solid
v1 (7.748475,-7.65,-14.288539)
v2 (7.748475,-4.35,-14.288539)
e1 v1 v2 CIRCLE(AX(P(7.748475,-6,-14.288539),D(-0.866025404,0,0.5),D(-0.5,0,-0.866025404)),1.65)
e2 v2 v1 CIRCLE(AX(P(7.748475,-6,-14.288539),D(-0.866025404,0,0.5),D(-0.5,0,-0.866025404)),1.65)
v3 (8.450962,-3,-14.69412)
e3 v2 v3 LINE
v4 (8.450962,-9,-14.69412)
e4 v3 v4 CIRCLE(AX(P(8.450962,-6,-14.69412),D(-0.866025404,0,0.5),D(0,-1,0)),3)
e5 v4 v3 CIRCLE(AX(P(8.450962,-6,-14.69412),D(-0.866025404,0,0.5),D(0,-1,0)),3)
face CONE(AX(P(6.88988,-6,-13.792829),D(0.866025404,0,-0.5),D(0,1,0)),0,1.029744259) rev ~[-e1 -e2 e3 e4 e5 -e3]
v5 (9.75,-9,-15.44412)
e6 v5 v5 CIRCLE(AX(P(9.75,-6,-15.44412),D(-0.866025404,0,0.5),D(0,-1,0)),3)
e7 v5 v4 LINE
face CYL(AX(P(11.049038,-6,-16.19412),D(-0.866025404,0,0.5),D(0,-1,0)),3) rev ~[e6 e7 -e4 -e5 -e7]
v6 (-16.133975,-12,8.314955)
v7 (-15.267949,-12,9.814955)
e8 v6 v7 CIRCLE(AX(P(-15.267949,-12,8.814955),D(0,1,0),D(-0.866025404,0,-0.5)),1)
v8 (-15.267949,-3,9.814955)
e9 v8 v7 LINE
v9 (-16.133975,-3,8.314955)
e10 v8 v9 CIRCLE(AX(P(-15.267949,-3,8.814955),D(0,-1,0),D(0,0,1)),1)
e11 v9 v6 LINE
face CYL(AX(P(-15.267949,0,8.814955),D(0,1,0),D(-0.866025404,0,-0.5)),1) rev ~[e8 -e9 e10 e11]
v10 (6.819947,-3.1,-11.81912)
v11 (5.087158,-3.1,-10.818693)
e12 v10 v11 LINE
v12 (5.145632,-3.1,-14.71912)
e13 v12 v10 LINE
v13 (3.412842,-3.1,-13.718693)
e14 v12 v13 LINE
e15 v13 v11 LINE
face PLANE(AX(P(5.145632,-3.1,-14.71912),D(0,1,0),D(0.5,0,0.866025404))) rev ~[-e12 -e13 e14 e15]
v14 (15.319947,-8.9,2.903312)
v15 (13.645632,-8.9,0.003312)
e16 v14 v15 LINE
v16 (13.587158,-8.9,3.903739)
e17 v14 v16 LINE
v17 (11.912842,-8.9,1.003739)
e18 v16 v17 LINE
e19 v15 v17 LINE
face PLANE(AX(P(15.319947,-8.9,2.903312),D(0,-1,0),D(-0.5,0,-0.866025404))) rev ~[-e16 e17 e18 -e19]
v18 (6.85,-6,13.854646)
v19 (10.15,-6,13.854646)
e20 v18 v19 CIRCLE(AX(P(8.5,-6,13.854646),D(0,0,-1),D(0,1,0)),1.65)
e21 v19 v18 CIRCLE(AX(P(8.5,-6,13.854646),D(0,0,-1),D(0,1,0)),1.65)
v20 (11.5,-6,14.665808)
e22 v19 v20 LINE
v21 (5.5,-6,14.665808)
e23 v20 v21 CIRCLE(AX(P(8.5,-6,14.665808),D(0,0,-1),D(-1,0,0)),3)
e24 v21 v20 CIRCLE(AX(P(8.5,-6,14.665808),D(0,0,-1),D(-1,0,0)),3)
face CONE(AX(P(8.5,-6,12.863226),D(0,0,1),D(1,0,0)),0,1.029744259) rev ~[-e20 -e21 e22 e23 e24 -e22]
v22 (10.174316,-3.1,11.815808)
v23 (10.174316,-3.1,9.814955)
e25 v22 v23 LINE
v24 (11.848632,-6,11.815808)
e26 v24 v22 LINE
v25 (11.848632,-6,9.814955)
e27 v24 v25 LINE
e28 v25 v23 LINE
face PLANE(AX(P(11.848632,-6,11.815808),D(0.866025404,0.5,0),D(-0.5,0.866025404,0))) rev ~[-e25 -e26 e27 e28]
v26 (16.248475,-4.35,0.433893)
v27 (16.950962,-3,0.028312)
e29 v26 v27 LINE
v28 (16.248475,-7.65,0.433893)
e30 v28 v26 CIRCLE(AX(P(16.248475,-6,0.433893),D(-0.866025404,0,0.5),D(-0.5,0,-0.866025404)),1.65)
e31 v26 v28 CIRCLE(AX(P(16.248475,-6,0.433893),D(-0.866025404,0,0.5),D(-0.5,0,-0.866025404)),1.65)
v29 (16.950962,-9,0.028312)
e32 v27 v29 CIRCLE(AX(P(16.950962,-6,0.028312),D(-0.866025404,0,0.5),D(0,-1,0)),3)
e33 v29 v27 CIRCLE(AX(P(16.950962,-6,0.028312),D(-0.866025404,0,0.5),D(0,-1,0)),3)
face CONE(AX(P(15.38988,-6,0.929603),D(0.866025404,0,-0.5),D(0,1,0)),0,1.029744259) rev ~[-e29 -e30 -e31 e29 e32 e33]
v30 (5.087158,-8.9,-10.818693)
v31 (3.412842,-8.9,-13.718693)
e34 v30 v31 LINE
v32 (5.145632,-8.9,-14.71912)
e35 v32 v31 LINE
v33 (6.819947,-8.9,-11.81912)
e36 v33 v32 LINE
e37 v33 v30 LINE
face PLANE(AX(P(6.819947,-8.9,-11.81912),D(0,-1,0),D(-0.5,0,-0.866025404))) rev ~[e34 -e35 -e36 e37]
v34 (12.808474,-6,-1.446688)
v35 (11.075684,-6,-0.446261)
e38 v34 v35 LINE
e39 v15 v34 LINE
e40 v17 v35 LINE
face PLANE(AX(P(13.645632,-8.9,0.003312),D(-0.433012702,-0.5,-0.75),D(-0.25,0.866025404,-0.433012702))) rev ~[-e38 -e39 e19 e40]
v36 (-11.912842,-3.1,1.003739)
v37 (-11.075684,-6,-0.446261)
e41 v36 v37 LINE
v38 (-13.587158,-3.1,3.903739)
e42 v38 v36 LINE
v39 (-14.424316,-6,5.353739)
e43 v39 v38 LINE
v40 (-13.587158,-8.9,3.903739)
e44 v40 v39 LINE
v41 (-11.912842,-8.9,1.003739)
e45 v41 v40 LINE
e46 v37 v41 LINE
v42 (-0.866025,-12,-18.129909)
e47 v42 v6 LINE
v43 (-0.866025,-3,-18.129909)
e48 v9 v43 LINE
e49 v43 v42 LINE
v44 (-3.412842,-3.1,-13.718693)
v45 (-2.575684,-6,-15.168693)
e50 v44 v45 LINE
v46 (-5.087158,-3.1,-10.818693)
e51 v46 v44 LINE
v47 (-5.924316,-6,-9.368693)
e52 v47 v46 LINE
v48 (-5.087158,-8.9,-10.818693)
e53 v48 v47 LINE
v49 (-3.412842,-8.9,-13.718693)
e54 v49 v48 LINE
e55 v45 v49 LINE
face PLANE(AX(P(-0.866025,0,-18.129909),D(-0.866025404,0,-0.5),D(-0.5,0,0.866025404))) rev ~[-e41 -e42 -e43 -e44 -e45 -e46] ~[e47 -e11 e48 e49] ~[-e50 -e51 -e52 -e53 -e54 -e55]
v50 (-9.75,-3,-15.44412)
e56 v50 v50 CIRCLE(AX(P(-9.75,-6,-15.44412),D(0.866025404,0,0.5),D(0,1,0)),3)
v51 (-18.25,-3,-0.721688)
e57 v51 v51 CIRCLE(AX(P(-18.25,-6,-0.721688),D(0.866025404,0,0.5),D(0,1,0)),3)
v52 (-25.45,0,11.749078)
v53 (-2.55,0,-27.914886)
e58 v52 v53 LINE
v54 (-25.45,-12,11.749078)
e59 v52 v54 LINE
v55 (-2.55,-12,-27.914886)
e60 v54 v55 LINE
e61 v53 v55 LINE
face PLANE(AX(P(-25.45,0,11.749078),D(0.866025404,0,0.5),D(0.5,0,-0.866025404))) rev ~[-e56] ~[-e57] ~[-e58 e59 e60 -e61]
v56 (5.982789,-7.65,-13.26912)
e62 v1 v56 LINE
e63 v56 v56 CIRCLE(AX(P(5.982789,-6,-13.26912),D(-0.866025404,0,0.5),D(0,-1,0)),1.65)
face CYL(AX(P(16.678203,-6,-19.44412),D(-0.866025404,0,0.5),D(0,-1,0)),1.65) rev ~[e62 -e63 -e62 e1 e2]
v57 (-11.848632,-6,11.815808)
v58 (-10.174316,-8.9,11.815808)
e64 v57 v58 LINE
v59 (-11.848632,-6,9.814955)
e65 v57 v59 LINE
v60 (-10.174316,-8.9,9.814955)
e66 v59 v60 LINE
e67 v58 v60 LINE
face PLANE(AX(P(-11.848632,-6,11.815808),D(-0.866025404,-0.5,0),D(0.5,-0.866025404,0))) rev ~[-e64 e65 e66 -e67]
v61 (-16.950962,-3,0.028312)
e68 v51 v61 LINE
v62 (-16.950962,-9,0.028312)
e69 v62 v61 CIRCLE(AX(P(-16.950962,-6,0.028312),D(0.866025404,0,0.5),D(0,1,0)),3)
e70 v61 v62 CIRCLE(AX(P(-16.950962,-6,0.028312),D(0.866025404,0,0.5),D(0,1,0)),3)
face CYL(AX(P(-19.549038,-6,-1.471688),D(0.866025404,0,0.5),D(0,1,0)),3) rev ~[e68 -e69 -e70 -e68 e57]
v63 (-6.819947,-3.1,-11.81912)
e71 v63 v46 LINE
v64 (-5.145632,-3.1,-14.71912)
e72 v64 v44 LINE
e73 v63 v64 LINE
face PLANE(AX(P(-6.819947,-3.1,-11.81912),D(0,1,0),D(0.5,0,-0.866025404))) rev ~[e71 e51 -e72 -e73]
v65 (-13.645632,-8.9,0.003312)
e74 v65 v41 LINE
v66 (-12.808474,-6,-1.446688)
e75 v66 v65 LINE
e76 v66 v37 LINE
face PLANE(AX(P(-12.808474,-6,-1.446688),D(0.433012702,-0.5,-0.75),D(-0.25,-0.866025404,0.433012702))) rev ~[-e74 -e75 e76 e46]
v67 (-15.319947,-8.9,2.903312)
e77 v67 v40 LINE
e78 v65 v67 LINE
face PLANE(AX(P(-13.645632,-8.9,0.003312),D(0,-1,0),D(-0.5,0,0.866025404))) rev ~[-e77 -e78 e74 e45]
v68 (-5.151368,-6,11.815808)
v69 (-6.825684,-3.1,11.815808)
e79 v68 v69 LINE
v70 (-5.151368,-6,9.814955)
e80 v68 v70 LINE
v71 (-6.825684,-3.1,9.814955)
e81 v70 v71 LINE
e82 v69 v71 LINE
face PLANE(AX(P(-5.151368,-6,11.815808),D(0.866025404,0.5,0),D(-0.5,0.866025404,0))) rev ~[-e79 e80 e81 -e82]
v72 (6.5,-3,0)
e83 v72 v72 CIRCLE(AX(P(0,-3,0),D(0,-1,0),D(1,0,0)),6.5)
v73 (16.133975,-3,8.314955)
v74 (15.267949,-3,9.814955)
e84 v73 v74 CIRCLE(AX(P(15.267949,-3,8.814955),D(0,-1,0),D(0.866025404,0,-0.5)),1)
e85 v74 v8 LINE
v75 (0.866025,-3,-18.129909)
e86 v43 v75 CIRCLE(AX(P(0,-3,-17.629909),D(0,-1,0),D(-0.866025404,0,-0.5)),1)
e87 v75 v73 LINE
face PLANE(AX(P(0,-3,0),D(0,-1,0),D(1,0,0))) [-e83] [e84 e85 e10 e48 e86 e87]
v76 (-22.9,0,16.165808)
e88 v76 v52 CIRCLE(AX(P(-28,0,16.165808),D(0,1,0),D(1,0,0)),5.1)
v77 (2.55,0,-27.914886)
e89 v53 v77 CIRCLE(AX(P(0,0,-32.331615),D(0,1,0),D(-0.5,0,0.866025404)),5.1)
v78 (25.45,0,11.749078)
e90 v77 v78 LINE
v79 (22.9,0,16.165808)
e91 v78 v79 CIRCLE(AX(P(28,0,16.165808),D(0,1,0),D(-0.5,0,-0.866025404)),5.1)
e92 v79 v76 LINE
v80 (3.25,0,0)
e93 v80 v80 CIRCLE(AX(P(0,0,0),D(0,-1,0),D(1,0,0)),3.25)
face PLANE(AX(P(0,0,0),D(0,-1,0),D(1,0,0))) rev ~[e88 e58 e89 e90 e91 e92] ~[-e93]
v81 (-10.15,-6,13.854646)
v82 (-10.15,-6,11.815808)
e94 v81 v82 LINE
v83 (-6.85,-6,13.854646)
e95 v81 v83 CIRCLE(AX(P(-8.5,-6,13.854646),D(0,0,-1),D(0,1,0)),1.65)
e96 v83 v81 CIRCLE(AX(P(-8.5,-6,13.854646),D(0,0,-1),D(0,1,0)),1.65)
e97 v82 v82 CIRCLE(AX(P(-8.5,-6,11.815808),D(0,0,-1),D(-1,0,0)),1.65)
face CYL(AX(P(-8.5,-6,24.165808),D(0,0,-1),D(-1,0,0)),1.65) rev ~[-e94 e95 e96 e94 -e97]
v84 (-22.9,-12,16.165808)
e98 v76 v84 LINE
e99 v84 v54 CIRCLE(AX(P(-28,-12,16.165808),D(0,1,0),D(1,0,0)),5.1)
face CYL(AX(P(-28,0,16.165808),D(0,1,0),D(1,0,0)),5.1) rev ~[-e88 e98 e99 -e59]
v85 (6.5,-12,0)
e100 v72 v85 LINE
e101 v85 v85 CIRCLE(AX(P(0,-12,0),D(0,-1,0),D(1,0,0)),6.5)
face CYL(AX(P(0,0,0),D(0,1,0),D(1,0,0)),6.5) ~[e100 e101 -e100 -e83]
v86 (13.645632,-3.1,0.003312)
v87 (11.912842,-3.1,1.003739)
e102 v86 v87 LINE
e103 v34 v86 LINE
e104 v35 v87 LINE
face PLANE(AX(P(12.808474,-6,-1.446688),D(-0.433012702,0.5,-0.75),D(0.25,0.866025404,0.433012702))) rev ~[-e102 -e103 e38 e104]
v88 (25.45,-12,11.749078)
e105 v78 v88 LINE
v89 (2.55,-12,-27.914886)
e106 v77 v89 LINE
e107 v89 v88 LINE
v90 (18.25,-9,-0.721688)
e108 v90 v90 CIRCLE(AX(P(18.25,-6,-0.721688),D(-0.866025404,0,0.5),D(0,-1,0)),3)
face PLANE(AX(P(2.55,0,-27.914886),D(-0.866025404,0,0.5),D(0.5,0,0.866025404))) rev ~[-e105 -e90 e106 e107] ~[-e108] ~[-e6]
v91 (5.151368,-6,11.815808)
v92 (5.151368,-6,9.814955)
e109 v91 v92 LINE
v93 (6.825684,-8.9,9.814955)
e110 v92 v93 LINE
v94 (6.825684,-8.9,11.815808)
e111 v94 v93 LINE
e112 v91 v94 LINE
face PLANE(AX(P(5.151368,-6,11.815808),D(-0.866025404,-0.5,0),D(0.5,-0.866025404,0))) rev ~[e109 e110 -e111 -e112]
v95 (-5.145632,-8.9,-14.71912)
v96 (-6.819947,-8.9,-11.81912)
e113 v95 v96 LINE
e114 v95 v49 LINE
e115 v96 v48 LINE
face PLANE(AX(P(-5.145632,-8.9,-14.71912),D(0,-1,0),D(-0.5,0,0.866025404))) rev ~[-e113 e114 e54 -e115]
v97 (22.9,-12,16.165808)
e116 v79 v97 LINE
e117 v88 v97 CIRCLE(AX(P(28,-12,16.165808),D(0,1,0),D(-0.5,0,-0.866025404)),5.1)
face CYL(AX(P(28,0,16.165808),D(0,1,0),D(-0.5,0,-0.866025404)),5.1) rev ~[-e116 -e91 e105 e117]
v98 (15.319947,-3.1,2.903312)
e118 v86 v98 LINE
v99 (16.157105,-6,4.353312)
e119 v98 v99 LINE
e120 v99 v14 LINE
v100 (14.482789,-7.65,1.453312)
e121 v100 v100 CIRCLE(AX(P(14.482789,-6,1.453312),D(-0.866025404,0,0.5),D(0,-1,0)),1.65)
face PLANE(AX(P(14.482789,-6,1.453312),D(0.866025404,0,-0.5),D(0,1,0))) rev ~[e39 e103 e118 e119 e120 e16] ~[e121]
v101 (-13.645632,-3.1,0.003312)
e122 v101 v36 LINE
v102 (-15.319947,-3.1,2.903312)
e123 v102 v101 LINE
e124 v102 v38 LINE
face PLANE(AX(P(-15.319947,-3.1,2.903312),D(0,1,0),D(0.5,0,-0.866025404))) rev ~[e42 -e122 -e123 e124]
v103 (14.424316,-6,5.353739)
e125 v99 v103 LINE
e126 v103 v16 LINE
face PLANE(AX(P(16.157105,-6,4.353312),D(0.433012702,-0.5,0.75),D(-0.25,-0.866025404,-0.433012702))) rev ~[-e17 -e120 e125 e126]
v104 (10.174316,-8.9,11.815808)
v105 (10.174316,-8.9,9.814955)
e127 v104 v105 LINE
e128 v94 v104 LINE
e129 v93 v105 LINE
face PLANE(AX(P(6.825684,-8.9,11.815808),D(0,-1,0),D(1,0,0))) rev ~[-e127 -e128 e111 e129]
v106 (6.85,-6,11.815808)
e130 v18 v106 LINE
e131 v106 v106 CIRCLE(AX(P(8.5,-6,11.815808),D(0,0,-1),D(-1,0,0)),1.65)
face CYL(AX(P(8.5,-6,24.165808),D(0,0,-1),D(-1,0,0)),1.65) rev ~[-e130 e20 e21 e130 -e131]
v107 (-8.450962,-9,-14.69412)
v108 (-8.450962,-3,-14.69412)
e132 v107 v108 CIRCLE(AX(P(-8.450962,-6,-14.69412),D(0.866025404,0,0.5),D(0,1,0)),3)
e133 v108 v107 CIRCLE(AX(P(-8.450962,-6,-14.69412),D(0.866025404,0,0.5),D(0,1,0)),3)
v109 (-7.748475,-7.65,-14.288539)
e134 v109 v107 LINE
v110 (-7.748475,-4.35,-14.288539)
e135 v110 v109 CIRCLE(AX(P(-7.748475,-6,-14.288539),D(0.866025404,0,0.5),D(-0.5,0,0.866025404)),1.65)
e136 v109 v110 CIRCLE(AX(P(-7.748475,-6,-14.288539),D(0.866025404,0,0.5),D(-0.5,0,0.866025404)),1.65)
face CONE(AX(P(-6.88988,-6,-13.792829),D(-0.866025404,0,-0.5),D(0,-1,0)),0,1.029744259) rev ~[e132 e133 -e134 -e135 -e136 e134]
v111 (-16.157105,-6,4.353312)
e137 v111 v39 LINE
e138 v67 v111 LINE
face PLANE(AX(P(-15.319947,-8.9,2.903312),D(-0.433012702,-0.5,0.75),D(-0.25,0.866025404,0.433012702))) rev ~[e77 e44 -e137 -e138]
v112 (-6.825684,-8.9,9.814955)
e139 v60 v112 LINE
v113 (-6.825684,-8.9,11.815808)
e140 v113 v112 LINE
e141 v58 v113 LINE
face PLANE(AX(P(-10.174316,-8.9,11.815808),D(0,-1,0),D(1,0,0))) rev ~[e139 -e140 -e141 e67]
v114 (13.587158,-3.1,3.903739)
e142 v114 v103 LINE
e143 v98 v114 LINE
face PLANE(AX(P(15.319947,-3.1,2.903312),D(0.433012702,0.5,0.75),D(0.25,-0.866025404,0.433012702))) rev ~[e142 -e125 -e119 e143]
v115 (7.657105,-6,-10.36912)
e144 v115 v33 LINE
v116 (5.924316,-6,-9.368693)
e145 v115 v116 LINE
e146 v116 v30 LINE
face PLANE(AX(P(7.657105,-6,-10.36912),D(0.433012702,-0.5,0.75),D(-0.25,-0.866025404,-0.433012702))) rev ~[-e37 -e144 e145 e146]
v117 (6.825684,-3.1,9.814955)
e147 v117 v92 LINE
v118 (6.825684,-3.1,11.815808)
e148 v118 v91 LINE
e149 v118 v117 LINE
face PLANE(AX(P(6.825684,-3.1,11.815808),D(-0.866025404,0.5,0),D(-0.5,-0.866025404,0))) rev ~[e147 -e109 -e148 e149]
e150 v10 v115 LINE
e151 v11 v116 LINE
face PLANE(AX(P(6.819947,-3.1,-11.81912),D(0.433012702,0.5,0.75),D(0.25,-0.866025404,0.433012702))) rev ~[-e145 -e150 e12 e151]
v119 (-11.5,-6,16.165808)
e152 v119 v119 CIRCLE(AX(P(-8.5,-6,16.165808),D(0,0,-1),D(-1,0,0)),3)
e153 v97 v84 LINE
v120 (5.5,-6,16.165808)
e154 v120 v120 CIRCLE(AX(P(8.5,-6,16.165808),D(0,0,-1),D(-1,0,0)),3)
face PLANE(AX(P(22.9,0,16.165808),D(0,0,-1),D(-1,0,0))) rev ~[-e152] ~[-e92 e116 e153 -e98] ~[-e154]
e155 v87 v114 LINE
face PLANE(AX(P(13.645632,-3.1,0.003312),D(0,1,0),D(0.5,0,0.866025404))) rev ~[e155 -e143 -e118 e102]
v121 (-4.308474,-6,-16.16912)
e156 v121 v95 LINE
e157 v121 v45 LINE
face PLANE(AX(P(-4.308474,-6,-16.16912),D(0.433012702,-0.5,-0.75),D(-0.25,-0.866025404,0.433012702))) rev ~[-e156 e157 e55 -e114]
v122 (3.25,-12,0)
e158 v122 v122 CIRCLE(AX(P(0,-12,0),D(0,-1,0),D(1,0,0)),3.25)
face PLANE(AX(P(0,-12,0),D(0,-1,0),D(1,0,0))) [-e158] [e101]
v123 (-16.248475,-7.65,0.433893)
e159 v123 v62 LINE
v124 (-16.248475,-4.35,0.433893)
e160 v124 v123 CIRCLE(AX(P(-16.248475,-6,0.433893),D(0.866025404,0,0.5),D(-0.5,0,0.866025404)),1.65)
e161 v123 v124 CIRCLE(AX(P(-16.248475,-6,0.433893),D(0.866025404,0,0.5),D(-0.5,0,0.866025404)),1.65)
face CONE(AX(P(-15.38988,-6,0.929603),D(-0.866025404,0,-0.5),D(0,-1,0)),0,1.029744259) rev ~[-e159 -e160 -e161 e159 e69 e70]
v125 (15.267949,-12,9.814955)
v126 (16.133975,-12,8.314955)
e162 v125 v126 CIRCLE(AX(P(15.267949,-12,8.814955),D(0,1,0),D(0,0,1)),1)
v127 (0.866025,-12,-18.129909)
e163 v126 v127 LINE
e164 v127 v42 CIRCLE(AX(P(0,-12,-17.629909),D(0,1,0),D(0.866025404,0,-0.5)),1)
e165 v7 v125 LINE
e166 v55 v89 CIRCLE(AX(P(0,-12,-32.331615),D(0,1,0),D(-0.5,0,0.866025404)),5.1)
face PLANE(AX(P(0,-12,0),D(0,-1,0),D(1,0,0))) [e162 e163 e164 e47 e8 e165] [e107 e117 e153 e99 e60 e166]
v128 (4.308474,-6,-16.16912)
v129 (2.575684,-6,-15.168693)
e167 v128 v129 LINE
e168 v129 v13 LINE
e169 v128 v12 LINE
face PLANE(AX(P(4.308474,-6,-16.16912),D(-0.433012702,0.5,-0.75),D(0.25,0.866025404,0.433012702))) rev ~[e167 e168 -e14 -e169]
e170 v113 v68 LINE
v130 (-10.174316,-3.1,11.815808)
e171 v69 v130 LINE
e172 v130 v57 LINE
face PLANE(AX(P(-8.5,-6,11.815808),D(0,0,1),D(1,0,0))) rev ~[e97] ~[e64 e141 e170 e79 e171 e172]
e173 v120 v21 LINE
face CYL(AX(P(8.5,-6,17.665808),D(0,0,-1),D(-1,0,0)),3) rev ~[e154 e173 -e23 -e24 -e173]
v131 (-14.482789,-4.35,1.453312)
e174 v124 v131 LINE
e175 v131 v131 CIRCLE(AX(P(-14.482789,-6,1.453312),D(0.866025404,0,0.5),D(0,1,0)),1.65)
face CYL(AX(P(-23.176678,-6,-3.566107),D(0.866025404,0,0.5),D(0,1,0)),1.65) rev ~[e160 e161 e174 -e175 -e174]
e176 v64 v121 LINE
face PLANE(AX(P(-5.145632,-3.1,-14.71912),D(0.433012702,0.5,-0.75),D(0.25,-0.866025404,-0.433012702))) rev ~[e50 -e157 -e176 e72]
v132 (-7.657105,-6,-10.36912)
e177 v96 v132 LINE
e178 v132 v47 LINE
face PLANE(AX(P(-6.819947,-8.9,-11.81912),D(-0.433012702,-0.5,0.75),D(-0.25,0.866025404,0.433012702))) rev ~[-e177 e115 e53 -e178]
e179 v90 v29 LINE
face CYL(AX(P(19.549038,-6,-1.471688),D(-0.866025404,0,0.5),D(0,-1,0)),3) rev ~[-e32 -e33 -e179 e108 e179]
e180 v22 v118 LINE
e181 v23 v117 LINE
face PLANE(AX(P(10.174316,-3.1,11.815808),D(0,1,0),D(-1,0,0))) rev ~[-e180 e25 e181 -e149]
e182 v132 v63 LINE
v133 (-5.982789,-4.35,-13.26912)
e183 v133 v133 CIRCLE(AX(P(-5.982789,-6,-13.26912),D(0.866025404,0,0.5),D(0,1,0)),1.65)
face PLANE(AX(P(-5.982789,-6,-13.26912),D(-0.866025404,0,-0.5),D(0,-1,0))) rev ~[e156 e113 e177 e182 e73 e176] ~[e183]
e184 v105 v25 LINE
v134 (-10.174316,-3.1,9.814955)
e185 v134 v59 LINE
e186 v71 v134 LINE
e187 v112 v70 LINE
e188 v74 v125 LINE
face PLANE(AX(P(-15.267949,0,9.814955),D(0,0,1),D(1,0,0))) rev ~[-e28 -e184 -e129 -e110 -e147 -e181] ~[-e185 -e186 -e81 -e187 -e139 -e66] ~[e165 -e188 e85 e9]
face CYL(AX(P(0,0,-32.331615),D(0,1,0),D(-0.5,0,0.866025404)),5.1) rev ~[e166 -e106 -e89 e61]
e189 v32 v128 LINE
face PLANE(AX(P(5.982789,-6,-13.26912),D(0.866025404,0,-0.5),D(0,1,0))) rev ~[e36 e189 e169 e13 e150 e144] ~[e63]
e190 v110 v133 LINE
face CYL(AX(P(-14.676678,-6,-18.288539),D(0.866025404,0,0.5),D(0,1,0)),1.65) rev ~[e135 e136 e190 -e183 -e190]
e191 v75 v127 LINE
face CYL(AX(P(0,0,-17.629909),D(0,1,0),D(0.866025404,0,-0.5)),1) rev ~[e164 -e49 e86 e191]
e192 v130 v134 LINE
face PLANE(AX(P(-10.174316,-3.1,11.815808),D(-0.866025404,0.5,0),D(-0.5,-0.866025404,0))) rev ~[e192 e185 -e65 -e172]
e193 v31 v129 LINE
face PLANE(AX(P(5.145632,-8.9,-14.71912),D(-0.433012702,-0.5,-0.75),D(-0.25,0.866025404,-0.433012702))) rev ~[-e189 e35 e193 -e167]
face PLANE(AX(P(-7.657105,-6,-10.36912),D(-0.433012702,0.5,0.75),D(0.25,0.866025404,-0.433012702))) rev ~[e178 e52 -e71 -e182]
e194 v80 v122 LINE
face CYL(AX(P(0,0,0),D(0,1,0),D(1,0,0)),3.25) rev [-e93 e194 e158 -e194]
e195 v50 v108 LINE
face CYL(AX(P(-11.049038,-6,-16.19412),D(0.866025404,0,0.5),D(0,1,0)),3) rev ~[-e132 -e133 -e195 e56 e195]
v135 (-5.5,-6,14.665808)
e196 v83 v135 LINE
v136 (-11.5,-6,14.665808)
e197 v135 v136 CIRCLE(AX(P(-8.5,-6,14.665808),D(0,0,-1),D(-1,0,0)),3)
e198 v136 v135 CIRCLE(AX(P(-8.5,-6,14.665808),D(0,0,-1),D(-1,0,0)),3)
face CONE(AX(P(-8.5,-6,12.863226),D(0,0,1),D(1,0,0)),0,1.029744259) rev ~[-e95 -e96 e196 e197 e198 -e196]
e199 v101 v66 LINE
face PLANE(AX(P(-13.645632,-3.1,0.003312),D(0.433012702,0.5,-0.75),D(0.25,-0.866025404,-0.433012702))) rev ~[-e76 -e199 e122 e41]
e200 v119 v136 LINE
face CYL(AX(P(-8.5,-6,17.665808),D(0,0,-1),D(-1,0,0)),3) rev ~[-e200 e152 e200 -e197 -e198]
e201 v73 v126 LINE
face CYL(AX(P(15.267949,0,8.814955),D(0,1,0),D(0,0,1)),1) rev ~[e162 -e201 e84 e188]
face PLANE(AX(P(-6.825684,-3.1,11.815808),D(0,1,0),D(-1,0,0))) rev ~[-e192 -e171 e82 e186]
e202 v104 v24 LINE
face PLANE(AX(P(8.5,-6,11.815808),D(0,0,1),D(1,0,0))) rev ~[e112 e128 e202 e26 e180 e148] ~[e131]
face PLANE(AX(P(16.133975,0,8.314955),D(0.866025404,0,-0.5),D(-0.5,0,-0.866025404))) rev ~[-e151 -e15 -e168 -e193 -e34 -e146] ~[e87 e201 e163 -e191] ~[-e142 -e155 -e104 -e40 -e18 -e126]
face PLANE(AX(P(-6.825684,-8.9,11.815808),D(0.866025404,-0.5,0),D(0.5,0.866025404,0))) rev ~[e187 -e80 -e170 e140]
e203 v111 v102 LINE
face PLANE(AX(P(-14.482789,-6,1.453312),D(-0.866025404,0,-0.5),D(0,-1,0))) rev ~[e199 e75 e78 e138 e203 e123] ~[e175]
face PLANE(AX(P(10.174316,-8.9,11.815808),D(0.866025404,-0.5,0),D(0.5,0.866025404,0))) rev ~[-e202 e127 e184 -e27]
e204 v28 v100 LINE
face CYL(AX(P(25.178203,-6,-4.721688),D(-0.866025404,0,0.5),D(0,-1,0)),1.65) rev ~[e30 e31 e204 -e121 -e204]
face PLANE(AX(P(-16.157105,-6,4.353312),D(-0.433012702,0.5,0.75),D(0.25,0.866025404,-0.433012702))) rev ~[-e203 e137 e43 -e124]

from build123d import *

# Parameters (mm, degrees)
F1_DEPTH  = 12
F0_R      = 6.5
F0_R_2    = 3.25
F2_DEPTH  = 3
F4_START  = -4.35
F4_DEPTH  = 3.65
F5_D      = 3.3
F5_DEPTH  = 8
F5_TIP    = 0.9914200214
F6_D      = 6
F6_DEPTH  = 1.5
F6_TIP    = 1.8025818571
F8_START  = -4.35
F8_DEPTH  = 3.65
F9_D      = 6
F9_DEPTH  = 1.5
F9_TIP    = 1.8025818571
F10_D     = 3.3
F10_DEPTH = 8
F10_START = 2.3111618
F10_TIP   = 0.9914200214
F12_START = -4.35
F12_DEPTH = 3.65
F13_D     = 3.3
F13_DEPTH = 8
F13_TIP   = 0.9914200214
F14_D     = 6
F14_DEPTH = 1.5
F14_TIP   = 1.8025818571


with BuildPart() as f1:
    # F0 (on Front) → F1 (new body)
    with BuildSketch(Plane.XZ):
        with BuildLine():
            ThreePointArc((25.45, 11.749077978), (23.5832704407, 13.6158075373), (22.9, 16.1658075373))
            Line((22.9, 16.1658075373), (-22.9, 16.1658075373))
            ThreePointArc((-22.9, 16.1658075373), (-23.5832704407, 13.6158075373), (-25.45, 11.749077978))
            Line((-25.45, 11.749077978), (-2.55, -27.9148855153))
            ThreePointArc((-2.55, -27.9148855153), (0, -27.2316150746), (2.55, -27.9148855153))
            Line((2.55, -27.9148855153), (25.45, 11.749077978))
        make_face()
        with BuildLine():
            ThreePointArc((15.2679491924, 9.8149545762), (16.1339745962, 9.3149545762), (16.1339745962, 8.3149545762))
            Line((16.1339745962, 8.3149545762), (0.8660254038, -18.1299091524))
            ThreePointArc((0.8660254038, -18.1299091524), (0, -18.6299091524), (-0.8660254038, -18.1299091524))
            Line((-0.8660254038, -18.1299091524), (-16.1339745962, 8.3149545762))
            ThreePointArc((-16.1339745962, 8.3149545762), (-16.1339745962, 9.3149545762), (-15.2679491924, 9.8149545762))
            Line((-15.2679491924, 9.8149545762), (15.2679491924, 9.8149545762))
        make_face(mode=Mode.SUBTRACT)
    extrude(amount=F1_DEPTH)



with BuildPart() as f1b:
    # F0 (on Front) → F1, piece 2 (new body)
    with BuildSketch(Plane.XZ):
        Circle(F0_R)
        Circle(F0_R_2, mode=Mode.SUBTRACT)
    extrude(amount=F1_DEPTH)


with BuildPart() as f1_1:
    add(f1.part)

    add(f1b.part)  # F2 merges F1b
    # F0 (on Front) → F2 (join)
    with BuildSketch(Plane.XZ):
        with BuildLine():
            Line((0.8660254038, -18.1299091524), (16.1339745962, 8.3149545762))
            ThreePointArc((16.1339745962, 8.3149545762), (16.1339745962, 9.3149545762), (15.2679491924, 9.8149545762))
            Line((15.2679491924, 9.8149545762), (-15.2679491924, 9.8149545762))
            ThreePointArc((-15.2679491924, 9.8149545762), (-16.1339745962, 9.3149545762), (-16.1339745962, 8.3149545762))
            Line((-16.1339745962, 8.3149545762), (-0.8660254038, -18.1299091524))
            ThreePointArc((-0.8660254038, -18.1299091524), (0, -18.6299091524), (0.8660254038, -18.1299091524))
        make_face()
        Circle(F0_R, mode=Mode.SUBTRACT)
    extrude(amount=F2_DEPTH)

    # F3 (on face) → F4 (cut)
    with BuildSketch(Plane.XY.offset(16.1658075373).offset(F4_START)):
        Polygon((-6.8256842194, -8.9), (-5.1513684387, -6), (-6.8256842194, -3.1), (-10.1743157806, -3.1), (-11.8486315613, -6), (-10.1743157806, -8.9), align=None)
        Polygon((10.1743157806, -8.9), (11.8486315613, -6), (10.1743157806, -3.1), (6.8256842194, -3.1), (5.1513684387, -6), (6.8256842194, -8.9), align=None)
    extrude(amount=-F4_DEPTH, mode=Mode.SUBTRACT)

    # F5
    with Locations(Plane.XY.offset(16.1658075373)):
        with Locations((8.5, -6), (-8.5, -6)):
            Hole(F5_D / 2, depth=F5_DEPTH)
            with Locations((0, 0, -(F5_DEPTH + F5_TIP / 2))):  # 118° drill point
                Cone(0, F5_D / 2, F5_TIP, mode=Mode.SUBTRACT)

    # F6
    with Locations(Plane.XY.offset(16.1658075373)):
        with Locations((8.5, -6), (-8.5, -6)):
            Hole(F6_D / 2, depth=F6_DEPTH)
            with Locations((0, 0, -(F6_DEPTH + F6_TIP / 2))):  # 118° drill point
                Cone(0, F6_D / 2, F6_TIP, mode=Mode.SUBTRACT)

    # F7 (on face) → F8 (cut)
    with BuildSketch(Plane(origin=(-14, 0, -8.0829037687), x_dir=(0, -1, 0), z_dir=(-0.8660254038, 0, -0.5)).offset(F8_START)):
        Polygon((3.1, 6.8256842194), (6, 5.1513684387), (8.9, 6.8256842194), (8.9, 10.1743157806), (6, 11.8486315613), (3.1, 10.1743157806), align=None)
        Polygon((3.1, -10.1743157806), (6, -11.8486315613), (8.9, -10.1743157806), (8.9, -6.8256842194), (6, -5.1513684387), (3.1, -6.8256842194), align=None)
    extrude(amount=-F8_DEPTH, mode=Mode.SUBTRACT)

    # F9
    with Locations(Plane(origin=(-14, 0, -8.0829037687), x_dir=(0, -1, 0), z_dir=(-0.8660254038, 0, -0.5))):
        with Locations((6, 8.5), (6, -8.5)):
            Hole(F9_D / 2, depth=F9_DEPTH)
            with Locations((0, 0, -(F9_DEPTH + F9_TIP / 2))):  # 118° drill point
                Cone(0, F9_D / 2, F9_TIP, mode=Mode.SUBTRACT)

    # F10
    # its depths count from where the whole tool has entered the part; down to there all is cleared
    with Locations(Plane(origin=(-14, 0, -8.0829037687), x_dir=(0, -1, 0), z_dir=(-0.8660254038, 0, -0.5)).offset(-F10_START)):
        with Locations((6, 8.5), (6, -8.5)):
            Hole(F10_D / 2, depth=F10_DEPTH)
            with Locations((0, 0, -(F10_DEPTH + F10_TIP / 2))):  # 118° drill point
                Cone(0, F10_D / 2, F10_TIP, mode=Mode.SUBTRACT)

    # F11 (on face) → F12 (cut)
    with BuildSketch(Plane(origin=(14, 0, -8.0829037687), x_dir=(0, 1, 0), z_dir=(0.8660254038, 0, -0.5)).offset(F12_START)):
        Polygon((-3.1, -6.8256842194), (-6, -5.1513684387), (-8.9, -6.8256842194), (-8.9, -10.1743157806), (-6, -11.8486315613), (-3.1, -10.1743157806), align=None)
        Polygon((-3.1, 6.8256842194), (-3.1, 10.1743157806), (-6, 11.8486315613), (-8.9, 10.1743157806), (-8.9, 6.8256842194), (-6, 5.1513684387), align=None)
    extrude(amount=-F12_DEPTH, mode=Mode.SUBTRACT)

    # F13
    with Locations(Plane(origin=(14, 0, -8.0829037687), x_dir=(0, 1, 0), z_dir=(0.8660254038, 0, -0.5))):
        with Locations((-6, -8.5), (-6, 8.5)):
            Hole(F13_D / 2, depth=F13_DEPTH)
            with Locations((0, 0, -(F13_DEPTH + F13_TIP / 2))):  # 118° drill point
                Cone(0, F13_D / 2, F13_TIP, mode=Mode.SUBTRACT)

    # F14
    with Locations(Plane(origin=(14, 0, -8.0829037687), x_dir=(0, 1, 0), z_dir=(0.8660254038, 0, -0.5))):
        with Locations((-6, -8.5), (-6, 8.5)):
            Hole(F14_D / 2, depth=F14_DEPTH)
            with Locations((0, 0, -(F14_DEPTH + F14_TIP / 2))):  # 118° drill point
                Cone(0, F14_D / 2, F14_TIP, mode=Mode.SUBTRACT)


solid = f1_1.part
